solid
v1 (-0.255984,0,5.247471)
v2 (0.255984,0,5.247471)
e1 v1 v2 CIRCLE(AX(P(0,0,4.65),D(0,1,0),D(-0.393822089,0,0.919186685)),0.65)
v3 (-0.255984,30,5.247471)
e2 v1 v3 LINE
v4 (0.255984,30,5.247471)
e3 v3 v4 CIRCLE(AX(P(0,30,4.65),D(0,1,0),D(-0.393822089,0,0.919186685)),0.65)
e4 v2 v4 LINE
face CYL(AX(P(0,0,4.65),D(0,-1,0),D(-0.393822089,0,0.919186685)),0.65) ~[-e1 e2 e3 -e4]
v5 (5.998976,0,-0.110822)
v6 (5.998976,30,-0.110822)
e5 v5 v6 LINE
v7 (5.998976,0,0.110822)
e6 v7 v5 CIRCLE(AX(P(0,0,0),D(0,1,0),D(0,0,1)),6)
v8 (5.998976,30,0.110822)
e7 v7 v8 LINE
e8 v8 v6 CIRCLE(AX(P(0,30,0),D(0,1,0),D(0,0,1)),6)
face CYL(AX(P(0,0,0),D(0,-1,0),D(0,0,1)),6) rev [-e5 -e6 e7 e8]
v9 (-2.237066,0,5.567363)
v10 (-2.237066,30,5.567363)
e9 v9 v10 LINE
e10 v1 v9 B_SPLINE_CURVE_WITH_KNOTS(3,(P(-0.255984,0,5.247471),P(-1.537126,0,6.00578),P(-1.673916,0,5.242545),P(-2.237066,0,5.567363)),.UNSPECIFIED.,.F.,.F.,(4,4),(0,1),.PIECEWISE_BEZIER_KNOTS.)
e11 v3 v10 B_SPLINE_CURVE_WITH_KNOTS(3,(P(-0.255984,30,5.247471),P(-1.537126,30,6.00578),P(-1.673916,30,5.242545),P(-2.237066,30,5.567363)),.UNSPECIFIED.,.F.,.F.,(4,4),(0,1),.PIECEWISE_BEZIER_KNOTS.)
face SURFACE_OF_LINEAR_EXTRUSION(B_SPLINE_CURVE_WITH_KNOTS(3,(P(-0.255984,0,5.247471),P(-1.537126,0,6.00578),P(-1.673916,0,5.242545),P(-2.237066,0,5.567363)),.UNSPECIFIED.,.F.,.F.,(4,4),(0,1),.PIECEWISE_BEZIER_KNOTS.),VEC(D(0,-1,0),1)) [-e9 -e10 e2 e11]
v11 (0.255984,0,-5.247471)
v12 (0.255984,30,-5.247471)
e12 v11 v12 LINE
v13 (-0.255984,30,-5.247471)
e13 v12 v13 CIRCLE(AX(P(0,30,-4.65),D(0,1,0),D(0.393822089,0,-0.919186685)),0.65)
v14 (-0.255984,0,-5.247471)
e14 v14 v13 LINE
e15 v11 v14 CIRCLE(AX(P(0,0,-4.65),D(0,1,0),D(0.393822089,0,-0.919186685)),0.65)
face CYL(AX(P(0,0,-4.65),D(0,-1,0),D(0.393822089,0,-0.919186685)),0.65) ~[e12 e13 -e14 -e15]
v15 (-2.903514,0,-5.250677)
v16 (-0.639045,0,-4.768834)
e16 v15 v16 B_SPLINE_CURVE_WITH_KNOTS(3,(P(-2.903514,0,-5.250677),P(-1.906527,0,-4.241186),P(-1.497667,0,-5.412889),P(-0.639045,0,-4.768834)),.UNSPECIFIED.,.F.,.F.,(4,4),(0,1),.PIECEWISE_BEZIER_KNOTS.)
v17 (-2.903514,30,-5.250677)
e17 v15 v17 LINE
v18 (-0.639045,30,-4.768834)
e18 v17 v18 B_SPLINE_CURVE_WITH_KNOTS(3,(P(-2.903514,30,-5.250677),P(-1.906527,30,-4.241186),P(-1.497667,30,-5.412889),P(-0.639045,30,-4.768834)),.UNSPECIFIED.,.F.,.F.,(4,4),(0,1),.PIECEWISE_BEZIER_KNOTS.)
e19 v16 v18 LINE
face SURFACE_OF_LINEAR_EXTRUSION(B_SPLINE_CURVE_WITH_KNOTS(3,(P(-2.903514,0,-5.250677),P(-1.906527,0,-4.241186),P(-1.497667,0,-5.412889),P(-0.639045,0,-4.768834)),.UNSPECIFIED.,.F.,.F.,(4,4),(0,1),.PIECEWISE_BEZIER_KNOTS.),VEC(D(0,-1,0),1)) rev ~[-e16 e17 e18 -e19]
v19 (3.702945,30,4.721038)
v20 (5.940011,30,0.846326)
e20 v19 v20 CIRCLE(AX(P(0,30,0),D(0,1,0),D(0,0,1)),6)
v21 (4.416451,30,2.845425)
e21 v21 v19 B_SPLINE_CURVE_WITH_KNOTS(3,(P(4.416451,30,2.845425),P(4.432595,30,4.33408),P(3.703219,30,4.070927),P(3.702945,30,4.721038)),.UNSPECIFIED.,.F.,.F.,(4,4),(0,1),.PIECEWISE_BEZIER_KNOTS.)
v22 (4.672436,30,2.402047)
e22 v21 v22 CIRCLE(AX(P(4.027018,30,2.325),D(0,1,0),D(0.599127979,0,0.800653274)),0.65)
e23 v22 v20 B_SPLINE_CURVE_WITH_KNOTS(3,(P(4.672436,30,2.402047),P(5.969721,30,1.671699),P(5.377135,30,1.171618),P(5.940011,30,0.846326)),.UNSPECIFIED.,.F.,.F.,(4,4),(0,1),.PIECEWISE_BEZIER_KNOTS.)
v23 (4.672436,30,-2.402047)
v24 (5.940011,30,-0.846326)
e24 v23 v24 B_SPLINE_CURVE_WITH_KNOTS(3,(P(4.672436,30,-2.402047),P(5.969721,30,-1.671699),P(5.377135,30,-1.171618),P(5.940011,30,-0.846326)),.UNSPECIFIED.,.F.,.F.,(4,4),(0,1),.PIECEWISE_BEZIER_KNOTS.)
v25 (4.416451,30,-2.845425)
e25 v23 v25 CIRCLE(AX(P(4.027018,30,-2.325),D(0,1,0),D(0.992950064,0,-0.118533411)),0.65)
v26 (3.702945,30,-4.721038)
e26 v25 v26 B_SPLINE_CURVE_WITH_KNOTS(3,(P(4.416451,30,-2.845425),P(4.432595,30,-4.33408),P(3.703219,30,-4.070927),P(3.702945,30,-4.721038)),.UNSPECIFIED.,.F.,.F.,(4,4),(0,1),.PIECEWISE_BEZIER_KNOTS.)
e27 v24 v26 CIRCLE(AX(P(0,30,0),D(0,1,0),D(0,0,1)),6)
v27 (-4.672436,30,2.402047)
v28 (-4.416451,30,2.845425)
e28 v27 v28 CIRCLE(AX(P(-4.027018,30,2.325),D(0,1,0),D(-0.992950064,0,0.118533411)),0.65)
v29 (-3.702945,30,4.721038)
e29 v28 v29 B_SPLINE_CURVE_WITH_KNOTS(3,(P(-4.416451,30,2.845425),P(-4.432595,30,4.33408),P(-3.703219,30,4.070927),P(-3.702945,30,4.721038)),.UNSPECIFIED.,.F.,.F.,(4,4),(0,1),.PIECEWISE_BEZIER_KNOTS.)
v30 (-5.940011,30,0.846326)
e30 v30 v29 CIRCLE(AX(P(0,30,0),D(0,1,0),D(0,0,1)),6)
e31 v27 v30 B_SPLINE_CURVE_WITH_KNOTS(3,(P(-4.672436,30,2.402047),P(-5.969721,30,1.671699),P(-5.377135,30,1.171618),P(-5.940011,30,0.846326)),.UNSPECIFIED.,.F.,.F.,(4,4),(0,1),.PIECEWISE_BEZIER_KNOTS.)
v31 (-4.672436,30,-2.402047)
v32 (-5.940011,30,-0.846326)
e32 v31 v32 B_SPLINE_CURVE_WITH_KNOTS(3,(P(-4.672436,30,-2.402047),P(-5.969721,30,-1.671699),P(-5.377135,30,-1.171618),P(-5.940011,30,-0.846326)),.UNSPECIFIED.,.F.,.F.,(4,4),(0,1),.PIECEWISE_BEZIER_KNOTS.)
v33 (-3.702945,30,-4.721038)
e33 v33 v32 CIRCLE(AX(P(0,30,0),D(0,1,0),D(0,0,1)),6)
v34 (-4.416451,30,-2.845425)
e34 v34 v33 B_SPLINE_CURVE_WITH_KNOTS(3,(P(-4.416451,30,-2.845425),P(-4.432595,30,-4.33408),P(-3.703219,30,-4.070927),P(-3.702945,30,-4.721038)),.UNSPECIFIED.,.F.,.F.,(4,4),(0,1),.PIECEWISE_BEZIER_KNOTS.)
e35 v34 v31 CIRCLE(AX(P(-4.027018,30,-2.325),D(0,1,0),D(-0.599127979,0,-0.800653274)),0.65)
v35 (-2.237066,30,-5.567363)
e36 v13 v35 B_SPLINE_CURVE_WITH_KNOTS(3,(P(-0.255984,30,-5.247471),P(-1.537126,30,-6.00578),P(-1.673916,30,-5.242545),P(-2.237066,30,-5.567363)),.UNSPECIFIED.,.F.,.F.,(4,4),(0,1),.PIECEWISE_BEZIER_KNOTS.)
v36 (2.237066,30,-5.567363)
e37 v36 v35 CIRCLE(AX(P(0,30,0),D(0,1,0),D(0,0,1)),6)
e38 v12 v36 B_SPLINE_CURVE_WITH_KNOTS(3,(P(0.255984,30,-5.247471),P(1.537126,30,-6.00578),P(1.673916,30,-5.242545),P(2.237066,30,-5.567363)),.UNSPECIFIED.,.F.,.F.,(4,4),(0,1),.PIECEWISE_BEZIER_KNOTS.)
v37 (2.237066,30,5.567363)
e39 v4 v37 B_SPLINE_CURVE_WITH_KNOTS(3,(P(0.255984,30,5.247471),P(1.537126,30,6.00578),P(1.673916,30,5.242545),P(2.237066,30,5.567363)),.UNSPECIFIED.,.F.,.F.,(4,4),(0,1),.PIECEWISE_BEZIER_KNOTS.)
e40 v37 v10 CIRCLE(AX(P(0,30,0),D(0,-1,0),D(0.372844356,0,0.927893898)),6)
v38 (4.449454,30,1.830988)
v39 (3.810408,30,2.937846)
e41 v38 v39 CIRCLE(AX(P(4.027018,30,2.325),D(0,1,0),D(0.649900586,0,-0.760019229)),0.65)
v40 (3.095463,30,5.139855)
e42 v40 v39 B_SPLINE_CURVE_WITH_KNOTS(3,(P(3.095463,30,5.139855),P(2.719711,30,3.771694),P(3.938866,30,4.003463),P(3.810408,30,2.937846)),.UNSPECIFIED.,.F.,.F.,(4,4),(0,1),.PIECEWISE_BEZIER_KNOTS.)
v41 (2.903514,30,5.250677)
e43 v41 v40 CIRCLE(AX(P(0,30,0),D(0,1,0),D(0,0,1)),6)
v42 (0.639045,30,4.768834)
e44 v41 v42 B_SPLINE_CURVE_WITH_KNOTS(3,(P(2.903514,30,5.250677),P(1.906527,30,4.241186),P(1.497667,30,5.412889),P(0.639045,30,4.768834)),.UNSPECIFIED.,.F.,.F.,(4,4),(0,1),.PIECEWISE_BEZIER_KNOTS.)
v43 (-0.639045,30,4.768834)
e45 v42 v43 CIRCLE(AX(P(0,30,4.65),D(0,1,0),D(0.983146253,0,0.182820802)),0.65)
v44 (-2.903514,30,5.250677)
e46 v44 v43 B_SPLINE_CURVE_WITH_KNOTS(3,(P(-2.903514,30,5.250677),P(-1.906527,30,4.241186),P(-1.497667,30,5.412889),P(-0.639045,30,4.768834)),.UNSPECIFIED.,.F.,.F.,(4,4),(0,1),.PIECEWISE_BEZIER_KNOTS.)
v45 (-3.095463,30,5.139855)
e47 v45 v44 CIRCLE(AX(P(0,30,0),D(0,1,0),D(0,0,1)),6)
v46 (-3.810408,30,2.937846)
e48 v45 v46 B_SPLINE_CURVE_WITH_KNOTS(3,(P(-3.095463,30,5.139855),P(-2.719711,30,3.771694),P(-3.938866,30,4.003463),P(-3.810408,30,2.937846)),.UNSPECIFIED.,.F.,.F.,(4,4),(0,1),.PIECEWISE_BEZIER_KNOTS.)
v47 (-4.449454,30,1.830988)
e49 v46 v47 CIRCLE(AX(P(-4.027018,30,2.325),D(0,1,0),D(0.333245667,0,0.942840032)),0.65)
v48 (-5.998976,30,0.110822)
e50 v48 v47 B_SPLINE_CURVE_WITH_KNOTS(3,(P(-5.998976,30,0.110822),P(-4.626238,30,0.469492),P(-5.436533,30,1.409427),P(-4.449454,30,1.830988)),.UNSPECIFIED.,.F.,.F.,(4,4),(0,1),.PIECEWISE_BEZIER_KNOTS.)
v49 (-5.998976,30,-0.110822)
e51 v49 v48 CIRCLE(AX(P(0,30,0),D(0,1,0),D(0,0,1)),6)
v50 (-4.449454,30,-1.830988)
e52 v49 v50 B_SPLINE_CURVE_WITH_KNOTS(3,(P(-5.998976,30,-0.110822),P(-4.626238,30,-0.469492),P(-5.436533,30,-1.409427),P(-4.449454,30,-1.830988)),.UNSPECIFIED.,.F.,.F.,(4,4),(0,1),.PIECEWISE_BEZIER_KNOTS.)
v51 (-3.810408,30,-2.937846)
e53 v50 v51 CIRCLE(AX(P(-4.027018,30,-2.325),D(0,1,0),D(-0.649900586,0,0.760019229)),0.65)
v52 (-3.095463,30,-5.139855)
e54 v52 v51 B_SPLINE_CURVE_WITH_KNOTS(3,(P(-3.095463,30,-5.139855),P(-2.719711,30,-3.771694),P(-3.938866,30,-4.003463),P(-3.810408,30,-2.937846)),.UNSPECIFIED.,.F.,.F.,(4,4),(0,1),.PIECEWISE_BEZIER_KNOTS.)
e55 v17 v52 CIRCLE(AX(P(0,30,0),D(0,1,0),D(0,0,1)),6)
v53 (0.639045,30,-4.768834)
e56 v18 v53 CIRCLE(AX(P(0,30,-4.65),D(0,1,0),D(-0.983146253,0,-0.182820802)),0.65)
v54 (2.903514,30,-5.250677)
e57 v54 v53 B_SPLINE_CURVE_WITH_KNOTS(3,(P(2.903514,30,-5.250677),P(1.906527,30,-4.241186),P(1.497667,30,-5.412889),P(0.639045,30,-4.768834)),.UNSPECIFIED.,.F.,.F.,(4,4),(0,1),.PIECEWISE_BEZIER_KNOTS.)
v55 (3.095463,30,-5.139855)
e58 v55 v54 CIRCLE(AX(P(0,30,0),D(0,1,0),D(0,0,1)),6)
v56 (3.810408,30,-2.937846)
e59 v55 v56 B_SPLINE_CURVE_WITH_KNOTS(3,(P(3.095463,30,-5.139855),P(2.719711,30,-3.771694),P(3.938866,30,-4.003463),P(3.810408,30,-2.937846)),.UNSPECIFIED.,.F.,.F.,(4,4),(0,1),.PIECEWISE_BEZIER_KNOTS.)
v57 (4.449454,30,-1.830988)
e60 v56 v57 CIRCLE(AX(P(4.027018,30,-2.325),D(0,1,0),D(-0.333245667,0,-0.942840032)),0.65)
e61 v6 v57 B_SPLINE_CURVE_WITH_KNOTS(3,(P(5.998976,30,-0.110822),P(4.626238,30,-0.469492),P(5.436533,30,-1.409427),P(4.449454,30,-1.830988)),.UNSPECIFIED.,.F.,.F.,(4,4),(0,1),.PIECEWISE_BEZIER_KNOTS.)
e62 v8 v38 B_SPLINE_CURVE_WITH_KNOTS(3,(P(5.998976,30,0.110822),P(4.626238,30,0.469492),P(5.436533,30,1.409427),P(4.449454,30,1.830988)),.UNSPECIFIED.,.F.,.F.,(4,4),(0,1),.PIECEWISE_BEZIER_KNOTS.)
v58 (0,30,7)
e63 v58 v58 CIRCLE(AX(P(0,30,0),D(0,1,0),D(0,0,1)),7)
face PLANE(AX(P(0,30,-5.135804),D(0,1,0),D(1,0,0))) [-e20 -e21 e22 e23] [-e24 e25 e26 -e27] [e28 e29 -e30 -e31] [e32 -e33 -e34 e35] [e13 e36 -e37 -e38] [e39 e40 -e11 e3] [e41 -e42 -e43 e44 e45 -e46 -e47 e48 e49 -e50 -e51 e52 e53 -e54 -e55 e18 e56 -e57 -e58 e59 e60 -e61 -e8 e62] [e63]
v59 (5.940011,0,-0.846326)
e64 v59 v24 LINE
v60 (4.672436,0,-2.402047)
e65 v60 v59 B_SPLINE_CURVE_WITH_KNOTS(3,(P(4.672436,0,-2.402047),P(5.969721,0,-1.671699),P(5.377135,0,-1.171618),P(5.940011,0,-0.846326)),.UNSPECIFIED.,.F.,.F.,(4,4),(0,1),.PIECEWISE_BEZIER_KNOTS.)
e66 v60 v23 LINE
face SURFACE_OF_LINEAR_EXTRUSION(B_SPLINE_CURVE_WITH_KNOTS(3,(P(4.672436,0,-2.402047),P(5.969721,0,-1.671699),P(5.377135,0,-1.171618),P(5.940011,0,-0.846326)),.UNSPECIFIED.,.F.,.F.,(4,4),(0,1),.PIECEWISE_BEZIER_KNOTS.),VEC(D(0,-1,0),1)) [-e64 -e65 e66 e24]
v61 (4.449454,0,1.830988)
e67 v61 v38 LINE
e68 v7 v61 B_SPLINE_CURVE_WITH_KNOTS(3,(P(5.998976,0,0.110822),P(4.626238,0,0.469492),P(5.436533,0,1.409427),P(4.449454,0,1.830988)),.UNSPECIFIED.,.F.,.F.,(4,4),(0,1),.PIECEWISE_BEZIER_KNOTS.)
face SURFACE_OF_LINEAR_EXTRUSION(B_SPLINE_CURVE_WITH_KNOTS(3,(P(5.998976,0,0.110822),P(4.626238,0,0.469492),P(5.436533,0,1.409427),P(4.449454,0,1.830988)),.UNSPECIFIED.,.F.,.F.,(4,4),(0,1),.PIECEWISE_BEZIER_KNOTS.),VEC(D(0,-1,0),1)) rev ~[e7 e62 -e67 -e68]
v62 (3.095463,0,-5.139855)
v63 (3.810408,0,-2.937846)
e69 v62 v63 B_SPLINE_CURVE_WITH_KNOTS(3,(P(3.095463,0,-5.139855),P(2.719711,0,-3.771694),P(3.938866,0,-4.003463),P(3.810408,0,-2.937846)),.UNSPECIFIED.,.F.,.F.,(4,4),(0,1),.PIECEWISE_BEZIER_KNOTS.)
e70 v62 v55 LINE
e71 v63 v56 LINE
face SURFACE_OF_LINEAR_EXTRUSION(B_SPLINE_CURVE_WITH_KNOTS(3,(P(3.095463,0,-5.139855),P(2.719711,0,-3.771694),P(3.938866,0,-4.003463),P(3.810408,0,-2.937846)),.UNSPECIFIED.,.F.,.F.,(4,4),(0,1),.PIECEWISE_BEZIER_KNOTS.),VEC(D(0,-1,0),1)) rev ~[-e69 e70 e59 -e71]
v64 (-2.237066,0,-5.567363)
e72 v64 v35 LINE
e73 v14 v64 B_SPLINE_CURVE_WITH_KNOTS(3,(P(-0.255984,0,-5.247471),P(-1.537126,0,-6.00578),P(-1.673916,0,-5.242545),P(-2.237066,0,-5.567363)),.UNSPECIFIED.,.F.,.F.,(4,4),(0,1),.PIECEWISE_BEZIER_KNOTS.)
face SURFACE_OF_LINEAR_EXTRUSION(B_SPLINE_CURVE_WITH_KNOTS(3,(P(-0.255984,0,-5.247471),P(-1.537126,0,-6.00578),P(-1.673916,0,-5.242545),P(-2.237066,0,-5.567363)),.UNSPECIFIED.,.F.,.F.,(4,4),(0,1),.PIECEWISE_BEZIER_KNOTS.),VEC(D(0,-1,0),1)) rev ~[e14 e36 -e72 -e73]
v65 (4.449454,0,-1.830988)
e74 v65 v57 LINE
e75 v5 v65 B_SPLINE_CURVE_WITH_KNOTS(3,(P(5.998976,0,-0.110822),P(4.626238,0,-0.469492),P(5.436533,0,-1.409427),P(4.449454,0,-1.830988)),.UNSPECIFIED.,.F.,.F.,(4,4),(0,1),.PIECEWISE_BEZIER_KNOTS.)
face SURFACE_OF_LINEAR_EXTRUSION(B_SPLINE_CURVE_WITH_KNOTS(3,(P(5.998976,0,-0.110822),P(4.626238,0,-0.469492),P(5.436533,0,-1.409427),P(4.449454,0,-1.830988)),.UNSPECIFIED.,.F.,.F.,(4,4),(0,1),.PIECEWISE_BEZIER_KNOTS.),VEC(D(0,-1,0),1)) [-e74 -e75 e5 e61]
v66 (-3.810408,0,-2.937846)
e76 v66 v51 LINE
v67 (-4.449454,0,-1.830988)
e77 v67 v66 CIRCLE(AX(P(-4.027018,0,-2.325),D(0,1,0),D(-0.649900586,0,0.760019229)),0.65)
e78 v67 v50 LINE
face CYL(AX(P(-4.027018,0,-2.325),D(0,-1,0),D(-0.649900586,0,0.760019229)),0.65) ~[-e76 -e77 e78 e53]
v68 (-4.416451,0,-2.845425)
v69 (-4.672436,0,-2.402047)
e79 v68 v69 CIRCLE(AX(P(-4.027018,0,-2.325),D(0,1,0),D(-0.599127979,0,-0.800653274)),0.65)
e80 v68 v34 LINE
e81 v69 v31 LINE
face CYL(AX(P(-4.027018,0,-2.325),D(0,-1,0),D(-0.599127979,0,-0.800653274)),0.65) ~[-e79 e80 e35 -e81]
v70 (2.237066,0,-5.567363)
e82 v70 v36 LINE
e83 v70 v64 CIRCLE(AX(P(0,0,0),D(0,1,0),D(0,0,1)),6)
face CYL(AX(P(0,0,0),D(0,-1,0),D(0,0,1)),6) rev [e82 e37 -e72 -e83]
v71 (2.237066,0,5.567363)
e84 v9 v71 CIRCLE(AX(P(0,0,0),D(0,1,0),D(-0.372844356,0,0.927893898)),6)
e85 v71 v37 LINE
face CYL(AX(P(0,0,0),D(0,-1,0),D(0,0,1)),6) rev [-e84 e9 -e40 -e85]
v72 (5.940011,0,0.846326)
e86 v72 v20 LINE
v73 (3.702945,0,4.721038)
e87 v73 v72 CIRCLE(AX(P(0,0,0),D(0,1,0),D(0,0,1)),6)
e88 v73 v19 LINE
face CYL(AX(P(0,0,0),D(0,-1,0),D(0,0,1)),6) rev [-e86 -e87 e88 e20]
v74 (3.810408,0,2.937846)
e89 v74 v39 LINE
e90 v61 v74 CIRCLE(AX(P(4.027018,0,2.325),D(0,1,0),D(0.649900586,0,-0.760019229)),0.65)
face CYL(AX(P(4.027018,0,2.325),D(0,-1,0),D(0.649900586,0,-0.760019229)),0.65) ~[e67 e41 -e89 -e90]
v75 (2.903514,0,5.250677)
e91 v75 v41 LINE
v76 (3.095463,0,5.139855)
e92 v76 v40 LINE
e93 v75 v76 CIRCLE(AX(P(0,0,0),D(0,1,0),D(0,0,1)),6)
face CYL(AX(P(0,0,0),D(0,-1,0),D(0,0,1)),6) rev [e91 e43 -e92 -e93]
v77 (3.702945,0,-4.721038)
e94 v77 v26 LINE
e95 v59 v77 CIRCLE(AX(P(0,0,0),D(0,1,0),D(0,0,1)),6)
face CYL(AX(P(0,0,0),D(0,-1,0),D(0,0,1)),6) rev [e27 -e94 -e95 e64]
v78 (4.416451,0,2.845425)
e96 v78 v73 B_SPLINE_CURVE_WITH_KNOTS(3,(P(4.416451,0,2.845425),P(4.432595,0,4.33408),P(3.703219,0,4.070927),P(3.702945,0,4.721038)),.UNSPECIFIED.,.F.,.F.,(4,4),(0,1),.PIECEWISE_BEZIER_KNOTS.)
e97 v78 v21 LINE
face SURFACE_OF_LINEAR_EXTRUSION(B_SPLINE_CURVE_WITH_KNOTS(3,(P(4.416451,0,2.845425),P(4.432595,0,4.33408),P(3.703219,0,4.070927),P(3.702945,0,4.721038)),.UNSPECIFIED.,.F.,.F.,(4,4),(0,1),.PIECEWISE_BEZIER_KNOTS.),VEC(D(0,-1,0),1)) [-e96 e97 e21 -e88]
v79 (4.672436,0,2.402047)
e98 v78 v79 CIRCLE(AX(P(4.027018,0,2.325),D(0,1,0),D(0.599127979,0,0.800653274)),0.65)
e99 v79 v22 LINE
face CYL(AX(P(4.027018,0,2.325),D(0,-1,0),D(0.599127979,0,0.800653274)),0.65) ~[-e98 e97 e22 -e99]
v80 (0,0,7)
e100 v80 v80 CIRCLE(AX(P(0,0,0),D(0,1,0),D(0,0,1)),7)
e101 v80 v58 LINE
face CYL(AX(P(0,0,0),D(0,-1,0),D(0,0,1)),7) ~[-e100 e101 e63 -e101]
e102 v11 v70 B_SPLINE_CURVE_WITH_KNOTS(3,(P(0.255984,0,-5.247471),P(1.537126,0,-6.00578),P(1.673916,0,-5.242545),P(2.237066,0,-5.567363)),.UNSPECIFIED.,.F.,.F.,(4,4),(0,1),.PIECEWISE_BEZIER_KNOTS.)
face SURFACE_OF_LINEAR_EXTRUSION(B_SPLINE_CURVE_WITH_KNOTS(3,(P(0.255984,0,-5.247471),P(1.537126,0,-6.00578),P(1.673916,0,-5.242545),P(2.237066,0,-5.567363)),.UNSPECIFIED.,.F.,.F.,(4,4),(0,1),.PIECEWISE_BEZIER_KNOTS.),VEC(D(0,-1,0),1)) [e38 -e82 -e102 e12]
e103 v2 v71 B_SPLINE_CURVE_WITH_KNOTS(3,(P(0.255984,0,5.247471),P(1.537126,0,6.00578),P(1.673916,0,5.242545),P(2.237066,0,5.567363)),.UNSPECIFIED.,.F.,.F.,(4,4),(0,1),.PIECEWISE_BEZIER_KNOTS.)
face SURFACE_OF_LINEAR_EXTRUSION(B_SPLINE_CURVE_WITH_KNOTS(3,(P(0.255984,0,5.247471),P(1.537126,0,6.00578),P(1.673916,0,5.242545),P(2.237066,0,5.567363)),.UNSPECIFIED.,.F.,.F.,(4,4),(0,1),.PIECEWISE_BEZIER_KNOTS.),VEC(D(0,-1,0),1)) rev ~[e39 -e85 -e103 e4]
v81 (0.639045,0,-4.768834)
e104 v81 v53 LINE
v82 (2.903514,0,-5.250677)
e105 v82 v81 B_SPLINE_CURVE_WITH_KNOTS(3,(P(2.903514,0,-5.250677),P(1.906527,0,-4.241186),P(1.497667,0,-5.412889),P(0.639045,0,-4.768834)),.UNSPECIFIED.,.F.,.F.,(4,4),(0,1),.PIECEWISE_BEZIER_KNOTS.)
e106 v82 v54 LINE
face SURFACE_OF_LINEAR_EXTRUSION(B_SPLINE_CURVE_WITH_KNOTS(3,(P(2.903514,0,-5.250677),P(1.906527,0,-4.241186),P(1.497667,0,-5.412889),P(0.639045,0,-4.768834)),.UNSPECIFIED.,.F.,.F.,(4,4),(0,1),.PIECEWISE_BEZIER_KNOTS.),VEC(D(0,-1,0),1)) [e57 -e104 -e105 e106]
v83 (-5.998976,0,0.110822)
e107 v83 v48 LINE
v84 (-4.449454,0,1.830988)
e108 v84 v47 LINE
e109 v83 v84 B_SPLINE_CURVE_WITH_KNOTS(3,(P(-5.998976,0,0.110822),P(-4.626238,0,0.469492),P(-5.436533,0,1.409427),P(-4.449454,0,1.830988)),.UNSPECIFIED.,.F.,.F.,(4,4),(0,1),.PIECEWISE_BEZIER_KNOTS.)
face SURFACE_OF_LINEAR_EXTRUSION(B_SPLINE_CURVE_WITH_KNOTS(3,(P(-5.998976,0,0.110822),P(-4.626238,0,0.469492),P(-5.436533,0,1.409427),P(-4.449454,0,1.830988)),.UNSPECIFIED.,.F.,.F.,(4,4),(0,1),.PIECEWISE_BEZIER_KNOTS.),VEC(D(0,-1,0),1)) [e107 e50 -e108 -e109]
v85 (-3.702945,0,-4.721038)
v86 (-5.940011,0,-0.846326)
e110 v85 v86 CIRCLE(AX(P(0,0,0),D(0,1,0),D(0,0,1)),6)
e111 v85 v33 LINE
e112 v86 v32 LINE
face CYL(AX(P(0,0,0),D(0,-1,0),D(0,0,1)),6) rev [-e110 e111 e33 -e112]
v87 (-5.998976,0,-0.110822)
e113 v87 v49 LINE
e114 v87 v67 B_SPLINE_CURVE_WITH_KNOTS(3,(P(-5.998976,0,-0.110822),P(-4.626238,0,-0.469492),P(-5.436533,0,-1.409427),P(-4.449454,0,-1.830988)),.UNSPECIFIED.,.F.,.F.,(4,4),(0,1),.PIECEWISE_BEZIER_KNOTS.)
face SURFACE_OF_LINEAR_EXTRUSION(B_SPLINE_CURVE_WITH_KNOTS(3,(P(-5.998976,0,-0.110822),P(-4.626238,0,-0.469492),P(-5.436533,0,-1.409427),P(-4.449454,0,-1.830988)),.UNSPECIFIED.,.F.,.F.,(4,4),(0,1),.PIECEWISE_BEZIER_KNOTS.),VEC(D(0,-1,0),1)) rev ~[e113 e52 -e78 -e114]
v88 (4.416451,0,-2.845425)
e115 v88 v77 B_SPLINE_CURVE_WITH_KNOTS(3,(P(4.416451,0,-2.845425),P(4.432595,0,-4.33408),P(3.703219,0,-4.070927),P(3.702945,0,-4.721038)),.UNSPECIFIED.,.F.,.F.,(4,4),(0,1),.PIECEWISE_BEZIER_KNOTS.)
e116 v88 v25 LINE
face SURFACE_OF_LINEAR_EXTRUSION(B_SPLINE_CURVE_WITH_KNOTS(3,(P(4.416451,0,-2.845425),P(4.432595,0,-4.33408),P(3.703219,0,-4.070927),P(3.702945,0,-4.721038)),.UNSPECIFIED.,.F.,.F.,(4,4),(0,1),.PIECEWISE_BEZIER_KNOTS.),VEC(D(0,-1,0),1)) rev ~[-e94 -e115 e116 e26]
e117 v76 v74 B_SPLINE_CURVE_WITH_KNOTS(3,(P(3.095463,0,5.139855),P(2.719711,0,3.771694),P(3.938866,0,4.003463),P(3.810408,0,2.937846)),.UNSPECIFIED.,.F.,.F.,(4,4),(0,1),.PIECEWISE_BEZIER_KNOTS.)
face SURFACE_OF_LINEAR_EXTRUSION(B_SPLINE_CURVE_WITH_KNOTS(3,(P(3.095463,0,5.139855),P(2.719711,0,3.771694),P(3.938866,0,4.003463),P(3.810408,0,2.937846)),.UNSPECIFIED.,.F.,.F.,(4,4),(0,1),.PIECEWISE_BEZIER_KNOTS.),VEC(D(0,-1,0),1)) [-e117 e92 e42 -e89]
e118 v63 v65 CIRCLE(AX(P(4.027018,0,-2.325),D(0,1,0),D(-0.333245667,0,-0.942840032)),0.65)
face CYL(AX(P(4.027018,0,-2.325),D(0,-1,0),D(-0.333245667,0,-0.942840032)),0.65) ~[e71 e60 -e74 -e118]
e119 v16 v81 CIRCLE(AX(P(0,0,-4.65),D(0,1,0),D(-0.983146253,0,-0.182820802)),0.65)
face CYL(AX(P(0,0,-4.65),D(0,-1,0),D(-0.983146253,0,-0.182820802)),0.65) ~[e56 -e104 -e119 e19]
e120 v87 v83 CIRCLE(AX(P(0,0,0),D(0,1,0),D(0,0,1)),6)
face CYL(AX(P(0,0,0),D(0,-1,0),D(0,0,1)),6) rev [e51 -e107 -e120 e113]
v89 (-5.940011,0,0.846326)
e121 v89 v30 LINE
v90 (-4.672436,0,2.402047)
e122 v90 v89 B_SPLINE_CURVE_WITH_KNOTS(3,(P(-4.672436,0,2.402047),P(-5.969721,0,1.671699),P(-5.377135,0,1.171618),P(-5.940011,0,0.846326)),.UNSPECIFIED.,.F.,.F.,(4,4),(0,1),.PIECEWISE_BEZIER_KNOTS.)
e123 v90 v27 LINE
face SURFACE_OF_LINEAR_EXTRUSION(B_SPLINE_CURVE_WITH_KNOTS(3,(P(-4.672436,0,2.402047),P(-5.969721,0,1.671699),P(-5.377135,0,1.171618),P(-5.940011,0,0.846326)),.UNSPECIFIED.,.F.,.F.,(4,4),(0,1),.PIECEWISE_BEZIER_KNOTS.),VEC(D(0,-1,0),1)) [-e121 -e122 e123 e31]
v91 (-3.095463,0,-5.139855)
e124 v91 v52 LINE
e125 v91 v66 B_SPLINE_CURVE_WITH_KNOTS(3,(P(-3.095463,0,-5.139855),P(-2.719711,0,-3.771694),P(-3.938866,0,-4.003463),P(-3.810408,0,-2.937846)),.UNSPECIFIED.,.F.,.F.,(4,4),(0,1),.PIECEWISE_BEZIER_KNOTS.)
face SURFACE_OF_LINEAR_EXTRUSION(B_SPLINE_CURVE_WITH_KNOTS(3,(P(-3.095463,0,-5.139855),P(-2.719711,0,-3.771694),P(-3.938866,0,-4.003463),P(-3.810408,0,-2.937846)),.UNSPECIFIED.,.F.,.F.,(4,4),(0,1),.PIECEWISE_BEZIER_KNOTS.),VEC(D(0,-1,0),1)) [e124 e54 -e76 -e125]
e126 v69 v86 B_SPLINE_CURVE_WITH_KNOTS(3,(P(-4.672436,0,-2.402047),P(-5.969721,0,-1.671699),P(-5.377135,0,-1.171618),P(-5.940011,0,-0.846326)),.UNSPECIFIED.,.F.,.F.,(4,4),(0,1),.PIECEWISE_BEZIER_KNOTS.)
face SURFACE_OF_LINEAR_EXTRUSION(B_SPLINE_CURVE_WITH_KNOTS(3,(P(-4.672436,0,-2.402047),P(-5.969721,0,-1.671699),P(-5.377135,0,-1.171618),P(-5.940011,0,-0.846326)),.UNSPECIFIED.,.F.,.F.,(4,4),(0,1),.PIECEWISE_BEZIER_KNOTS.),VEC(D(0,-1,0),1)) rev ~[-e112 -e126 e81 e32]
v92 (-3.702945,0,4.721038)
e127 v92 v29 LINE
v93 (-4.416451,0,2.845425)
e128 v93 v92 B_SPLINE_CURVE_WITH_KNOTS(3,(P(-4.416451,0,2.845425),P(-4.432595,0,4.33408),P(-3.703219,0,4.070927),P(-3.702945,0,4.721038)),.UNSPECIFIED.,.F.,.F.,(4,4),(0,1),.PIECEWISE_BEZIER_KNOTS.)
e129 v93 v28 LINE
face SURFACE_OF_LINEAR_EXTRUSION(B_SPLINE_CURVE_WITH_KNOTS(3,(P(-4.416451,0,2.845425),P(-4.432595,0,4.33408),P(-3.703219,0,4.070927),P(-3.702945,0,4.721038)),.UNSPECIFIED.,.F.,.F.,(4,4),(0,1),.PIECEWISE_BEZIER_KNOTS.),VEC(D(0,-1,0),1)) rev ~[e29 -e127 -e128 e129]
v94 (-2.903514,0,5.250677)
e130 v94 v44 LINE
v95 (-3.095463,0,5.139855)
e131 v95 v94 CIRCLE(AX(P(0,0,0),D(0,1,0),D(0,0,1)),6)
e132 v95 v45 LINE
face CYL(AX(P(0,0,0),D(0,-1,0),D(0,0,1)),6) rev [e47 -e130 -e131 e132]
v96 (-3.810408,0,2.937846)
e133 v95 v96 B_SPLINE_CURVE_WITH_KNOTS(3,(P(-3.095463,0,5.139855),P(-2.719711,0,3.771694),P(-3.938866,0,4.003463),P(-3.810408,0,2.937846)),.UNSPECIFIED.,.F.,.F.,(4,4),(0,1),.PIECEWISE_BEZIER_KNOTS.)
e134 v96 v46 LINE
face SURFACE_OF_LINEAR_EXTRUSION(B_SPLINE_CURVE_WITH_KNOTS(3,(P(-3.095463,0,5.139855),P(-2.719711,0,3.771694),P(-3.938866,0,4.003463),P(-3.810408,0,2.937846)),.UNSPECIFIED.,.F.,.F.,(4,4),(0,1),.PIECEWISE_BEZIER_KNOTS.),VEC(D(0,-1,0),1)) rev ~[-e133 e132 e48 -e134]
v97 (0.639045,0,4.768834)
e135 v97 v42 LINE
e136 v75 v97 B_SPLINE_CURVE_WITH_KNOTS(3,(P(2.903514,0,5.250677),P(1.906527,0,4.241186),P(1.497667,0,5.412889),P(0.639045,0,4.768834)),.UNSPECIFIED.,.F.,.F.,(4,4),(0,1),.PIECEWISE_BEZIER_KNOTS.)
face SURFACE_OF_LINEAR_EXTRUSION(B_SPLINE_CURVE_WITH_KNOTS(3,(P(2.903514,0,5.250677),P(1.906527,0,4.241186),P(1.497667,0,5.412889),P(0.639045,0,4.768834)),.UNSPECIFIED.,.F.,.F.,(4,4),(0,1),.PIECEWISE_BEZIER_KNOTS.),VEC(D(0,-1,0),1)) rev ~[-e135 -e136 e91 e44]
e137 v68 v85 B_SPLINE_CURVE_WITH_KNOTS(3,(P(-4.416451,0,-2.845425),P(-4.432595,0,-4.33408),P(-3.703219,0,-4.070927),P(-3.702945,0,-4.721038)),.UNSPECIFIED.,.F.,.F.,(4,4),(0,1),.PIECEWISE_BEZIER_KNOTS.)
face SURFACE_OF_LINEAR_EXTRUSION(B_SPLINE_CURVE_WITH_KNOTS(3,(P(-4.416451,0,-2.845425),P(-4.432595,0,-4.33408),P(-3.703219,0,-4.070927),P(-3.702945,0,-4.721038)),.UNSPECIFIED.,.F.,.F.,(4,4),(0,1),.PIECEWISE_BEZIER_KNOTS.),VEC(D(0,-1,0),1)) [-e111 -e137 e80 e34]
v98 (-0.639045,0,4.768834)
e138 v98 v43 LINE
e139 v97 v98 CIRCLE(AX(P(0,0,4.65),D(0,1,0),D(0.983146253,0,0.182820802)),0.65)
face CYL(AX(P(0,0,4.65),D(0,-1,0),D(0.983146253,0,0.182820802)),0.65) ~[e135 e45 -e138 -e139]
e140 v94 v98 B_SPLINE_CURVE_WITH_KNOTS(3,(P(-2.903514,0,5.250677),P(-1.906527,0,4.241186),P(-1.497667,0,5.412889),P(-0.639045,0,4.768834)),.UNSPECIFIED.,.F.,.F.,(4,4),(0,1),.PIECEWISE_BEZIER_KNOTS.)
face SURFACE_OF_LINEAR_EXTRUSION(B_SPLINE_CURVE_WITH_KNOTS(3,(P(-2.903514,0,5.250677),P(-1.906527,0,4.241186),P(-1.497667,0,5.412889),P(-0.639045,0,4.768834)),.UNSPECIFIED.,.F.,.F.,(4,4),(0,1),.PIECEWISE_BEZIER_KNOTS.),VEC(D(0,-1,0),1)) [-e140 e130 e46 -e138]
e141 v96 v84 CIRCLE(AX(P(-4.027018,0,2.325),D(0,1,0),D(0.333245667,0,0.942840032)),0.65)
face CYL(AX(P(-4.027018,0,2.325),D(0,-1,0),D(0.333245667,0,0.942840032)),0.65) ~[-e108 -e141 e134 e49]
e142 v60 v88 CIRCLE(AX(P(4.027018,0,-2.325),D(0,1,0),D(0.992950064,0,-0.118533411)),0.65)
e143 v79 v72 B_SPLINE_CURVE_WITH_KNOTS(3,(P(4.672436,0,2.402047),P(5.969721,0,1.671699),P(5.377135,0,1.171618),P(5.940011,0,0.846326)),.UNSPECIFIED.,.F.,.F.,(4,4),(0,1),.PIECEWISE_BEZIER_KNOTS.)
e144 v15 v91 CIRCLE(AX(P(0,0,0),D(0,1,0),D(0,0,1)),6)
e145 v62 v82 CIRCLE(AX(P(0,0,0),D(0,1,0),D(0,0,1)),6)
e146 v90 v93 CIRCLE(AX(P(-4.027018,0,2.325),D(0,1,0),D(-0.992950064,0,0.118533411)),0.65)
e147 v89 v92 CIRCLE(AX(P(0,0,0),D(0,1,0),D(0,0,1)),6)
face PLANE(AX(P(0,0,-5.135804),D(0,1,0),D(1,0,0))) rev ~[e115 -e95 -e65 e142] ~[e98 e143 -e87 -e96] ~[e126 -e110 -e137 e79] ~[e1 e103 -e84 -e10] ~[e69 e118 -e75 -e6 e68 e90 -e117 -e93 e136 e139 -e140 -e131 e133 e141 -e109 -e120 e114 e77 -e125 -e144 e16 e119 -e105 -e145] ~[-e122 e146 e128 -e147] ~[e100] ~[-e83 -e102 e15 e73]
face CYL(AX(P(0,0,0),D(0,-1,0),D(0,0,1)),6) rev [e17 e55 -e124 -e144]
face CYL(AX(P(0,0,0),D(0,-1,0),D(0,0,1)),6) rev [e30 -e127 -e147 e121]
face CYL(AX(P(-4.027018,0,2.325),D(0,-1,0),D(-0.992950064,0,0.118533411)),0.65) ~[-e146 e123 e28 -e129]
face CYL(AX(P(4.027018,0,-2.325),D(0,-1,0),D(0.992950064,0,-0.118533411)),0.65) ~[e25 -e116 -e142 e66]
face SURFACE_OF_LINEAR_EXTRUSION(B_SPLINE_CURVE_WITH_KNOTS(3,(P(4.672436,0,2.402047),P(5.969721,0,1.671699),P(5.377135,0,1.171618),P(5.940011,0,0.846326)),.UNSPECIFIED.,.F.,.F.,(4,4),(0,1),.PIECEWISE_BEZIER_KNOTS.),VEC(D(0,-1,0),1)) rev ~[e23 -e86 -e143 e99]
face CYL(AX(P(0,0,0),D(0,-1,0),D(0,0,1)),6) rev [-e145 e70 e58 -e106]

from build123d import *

# Parameters (mm, degrees)
OUTERSHELL_R        = 7
OUTERSHELL_R_2      = 6
BOSS_EXTRUDE2_DEPTH = 30
BOSS_EXTRUDE3_DEPTH = 30


with BuildPart() as part:
    # OuterShell → Boss-Extrude2 (new body)
    with BuildSketch(Plane(origin=(0, 0, 0), x_dir=(1, 0, 0), z_dir=(0, 1, 0))):
        with Locations(Location((0, 0, 0), (0, 0, 270))):
            Circle(OUTERSHELL_R)
        with Locations(Location((0, 0, 0), (0, 0, 270))):
            Circle(OUTERSHELL_R_2, mode=Mode.SUBTRACT)
    extrude(amount=BOSS_EXTRUDE2_DEPTH)

    # InnerGliders → Boss-Extrude3 (add)
    with BuildSketch(Plane(origin=(0, 0, 0), x_dir=(1, 0, 0), z_dir=(0, 1, 0))):
        with BuildLine():
            ThreePointArc((-0.639045064, 4.768833521), (0, 4), (0.639045064, 4.768833521))
            add(Edge.make_bspline(
                [(2.903513824, 5.250676858), (1.906526941, 4.241185568), (1.497667475, 5.412889387), (0.639045064, 4.768833521)],
                knots=[0, 0, 0, 0, 1, 1, 1, 1], degree=3))
            ThreePointArc((2.903513824, 5.250676858), (2.752177228, 5.79179086), (2.237066135, 5.567363389))
            add(Edge.make_bspline(
                [(0.255984355, 5.247471346), (1.537126351, 6.005779726), (1.673916409, 5.242545099), (2.237066135, 5.567363389)],
                knots=[0, 0, 0, 0, 1, 1, 1, 1], degree=3))
            ThreePointArc((0.255984355, 5.247471346), (0, 5.3), (-0.255984355, 5.247471346))
            add(Edge.make_bspline(
                [(-0.255984355, 5.247471346), (-1.537126351, 6.005779726), (-1.673916409, 5.242545099), (-2.237066135, 5.567363389)],
                knots=[0, 0, 0, 0, 1, 1, 1, 1], degree=3))
            ThreePointArc((-2.237066135, 5.567363389), (-2.752177228, 5.79179086), (-2.903513824, 5.250676858))
            add(Edge.make_bspline(
                [(-2.903513824, 5.250676858), (-1.906526941, 4.241185568), (-1.497667475, 5.412889387), (-0.639045064, 4.768833521)],
                knots=[0, 0, 0, 0, 1, 1, 1, 1], degree=3))
        make_face()
        with BuildLine():
            ThreePointArc((3.810408444, 2.93784602), (3.464101615, 2), (4.449453508, 1.830987501))
            add(Edge.make_bspline(
                [(5.998976459, 0.110821697), (4.626237915, 0.46949202), (5.436533454, 1.409426614), (4.449453508, 1.830987501)],
                knots=[0, 0, 0, 0, 1, 1, 1, 1], degree=3))
            ThreePointArc((5.998976459, 0.110821697), (6.391926632, 0.512440035), (5.940011195, 0.846325592))
            add(Edge.make_bspline(
                [(4.672435669, 2.402046718), (5.969720988, 1.671699395), (5.377135441, 1.171618415), (5.940011195, 0.846325592)],
                knots=[0, 0, 0, 0, 1, 1, 1, 1], degree=3))
            ThreePointArc((4.672435669, 2.402046718), (4.58993464, 2.65), (4.416451314, 2.845424628))
            add(Edge.make_bspline(
                [(4.416451314, 2.845424628), (4.432594637, 4.334080332), (3.703219031, 4.070926684), (3.70294506, 4.721037798)],
                knots=[0, 0, 0, 0, 1, 1, 1, 1], degree=3))
            ThreePointArc((3.70294506, 4.721037798), (3.639749404, 5.279350825), (3.095462634, 5.139855161))
            add(Edge.make_bspline(
                [(3.095462634, 5.139855161), (2.719710974, 3.771693548), (3.938865979, 4.003462773), (3.810408444, 2.93784602)],
                knots=[0, 0, 0, 0, 1, 1, 1, 1], degree=3))
        make_face()
        with BuildLine():
            ThreePointArc((4.449453508, -1.830987501), (3.464101615, -2), (3.810408444, -2.93784602))
            add(Edge.make_bspline(
                [(3.095462634, -5.139855161), (2.719710974, -3.771693548), (3.938865979, -4.003462773), (3.810408444, -2.93784602)],
                knots=[0, 0, 0, 0, 1, 1, 1, 1], degree=3))
            ThreePointArc((3.095462634, -5.139855161), (3.639749404, -5.279350825), (3.70294506, -4.721037798))
            add(Edge.make_bspline(
                [(4.416451314, -2.845424628), (4.432594637, -4.334080332), (3.703219031, -4.070926684), (3.70294506, -4.721037798)],
                knots=[0, 0, 0, 0, 1, 1, 1, 1], degree=3))
            ThreePointArc((4.416451314, -2.845424628), (4.58993464, -2.65), (4.672435669, -2.402046718))
            add(Edge.make_bspline(
                [(4.672435669, -2.402046718), (5.969720988, -1.671699395), (5.377135441, -1.171618415), (5.940011195, -0.846325592)],
                knots=[0, 0, 0, 0, 1, 1, 1, 1], degree=3))
            ThreePointArc((5.940011195, -0.846325592), (6.391926632, -0.512440035), (5.998976459, -0.110821697))
            add(Edge.make_bspline(
                [(5.998976459, -0.110821697), (4.626237915, -0.46949202), (5.436533454, -1.409426614), (4.449453508, -1.830987501)],
                knots=[0, 0, 0, 0, 1, 1, 1, 1], degree=3))
        make_face()
        with BuildLine():
            ThreePointArc((0.639045064, -4.768833521), (0, -4), (-0.639045064, -4.768833521))
            add(Edge.make_bspline(
                [(-2.903513824, -5.250676858), (-1.906526941, -4.241185568), (-1.497667475, -5.412889387), (-0.639045064, -4.768833521)],
                knots=[0, 0, 0, 0, 1, 1, 1, 1], degree=3))
            ThreePointArc((-2.903513824, -5.250676858), (-2.752177228, -5.79179086), (-2.237066135, -5.567363389))
            add(Edge.make_bspline(
                [(-0.255984355, -5.247471346), (-1.537126351, -6.005779726), (-1.673916409, -5.242545099), (-2.237066135, -5.567363389)],
                knots=[0, 0, 0, 0, 1, 1, 1, 1], degree=3))
            ThreePointArc((-0.255984355, -5.247471346), (0, -5.3), (0.255984355, -5.247471346))
            add(Edge.make_bspline(
                [(0.255984355, -5.247471346), (1.537126351, -6.005779726), (1.673916409, -5.242545099), (2.237066135, -5.567363389)],
                knots=[0, 0, 0, 0, 1, 1, 1, 1], degree=3))
            ThreePointArc((2.237066135, -5.567363389), (2.752177228, -5.79179086), (2.903513824, -5.250676858))
            add(Edge.make_bspline(
                [(2.903513824, -5.250676858), (1.906526941, -4.241185568), (1.497667475, -5.412889387), (0.639045064, -4.768833521)],
                knots=[0, 0, 0, 0, 1, 1, 1, 1], degree=3))
        make_face()
        with BuildLine():
            ThreePointArc((-3.810408444, -2.93784602), (-3.464101615, -2), (-4.449453508, -1.830987501))
            add(Edge.make_bspline(
                [(-5.998976459, -0.110821697), (-4.626237915, -0.46949202), (-5.436533454, -1.409426614), (-4.449453508, -1.830987501)],
                knots=[0, 0, 0, 0, 1, 1, 1, 1], degree=3))
            ThreePointArc((-5.998976459, -0.110821697), (-6.391926632, -0.512440035), (-5.940011195, -0.846325592))
            add(Edge.make_bspline(
                [(-4.672435669, -2.402046718), (-5.969720988, -1.671699395), (-5.377135441, -1.171618415), (-5.940011195, -0.846325592)],
                knots=[0, 0, 0, 0, 1, 1, 1, 1], degree=3))
            ThreePointArc((-4.672435669, -2.402046718), (-4.58993464, -2.65), (-4.416451314, -2.845424628))
            add(Edge.make_bspline(
                [(-4.416451314, -2.845424628), (-4.432594637, -4.334080332), (-3.703219031, -4.070926684), (-3.70294506, -4.721037798)],
                knots=[0, 0, 0, 0, 1, 1, 1, 1], degree=3))
            ThreePointArc((-3.70294506, -4.721037798), (-3.639749404, -5.279350825), (-3.095462634, -5.139855161))
            add(Edge.make_bspline(
                [(-3.095462634, -5.139855161), (-2.719710974, -3.771693548), (-3.938865979, -4.003462773), (-3.810408444, -2.93784602)],
                knots=[0, 0, 0, 0, 1, 1, 1, 1], degree=3))
        make_face()
        with BuildLine():
            ThreePointArc((-4.449453508, 1.830987501), (-3.464101615, 2), (-3.810408444, 2.93784602))
            add(Edge.make_bspline(
                [(-3.095462634, 5.139855161), (-2.719710974, 3.771693548), (-3.938865979, 4.003462773), (-3.810408444, 2.93784602)],
                knots=[0, 0, 0, 0, 1, 1, 1, 1], degree=3))
            ThreePointArc((-3.095462634, 5.139855161), (-3.639749404, 5.279350825), (-3.70294506, 4.721037798))
            add(Edge.make_bspline(
                [(-4.416451314, 2.845424628), (-4.432594637, 4.334080332), (-3.703219031, 4.070926684), (-3.70294506, 4.721037798)],
                knots=[0, 0, 0, 0, 1, 1, 1, 1], degree=3))
            ThreePointArc((-4.416451314, 2.845424628), (-4.58993464, 2.65), (-4.672435669, 2.402046718))
            add(Edge.make_bspline(
                [(-4.672435669, 2.402046718), (-5.969720988, 1.671699395), (-5.377135441, 1.171618415), (-5.940011195, 0.846325592)],
                knots=[0, 0, 0, 0, 1, 1, 1, 1], degree=3))
            ThreePointArc((-5.940011195, 0.846325592), (-6.391926632, 0.512440035), (-5.998976459, 0.110821697))
            add(Edge.make_bspline(
                [(-5.998976459, 0.110821697), (-4.626237915, 0.46949202), (-5.436533454, 1.409426614), (-4.449453508, 1.830987501)],
                knots=[0, 0, 0, 0, 1, 1, 1, 1], degree=3))
        make_face()
    extrude(amount=BOSS_EXTRUDE3_DEPTH)


solid = part.part
